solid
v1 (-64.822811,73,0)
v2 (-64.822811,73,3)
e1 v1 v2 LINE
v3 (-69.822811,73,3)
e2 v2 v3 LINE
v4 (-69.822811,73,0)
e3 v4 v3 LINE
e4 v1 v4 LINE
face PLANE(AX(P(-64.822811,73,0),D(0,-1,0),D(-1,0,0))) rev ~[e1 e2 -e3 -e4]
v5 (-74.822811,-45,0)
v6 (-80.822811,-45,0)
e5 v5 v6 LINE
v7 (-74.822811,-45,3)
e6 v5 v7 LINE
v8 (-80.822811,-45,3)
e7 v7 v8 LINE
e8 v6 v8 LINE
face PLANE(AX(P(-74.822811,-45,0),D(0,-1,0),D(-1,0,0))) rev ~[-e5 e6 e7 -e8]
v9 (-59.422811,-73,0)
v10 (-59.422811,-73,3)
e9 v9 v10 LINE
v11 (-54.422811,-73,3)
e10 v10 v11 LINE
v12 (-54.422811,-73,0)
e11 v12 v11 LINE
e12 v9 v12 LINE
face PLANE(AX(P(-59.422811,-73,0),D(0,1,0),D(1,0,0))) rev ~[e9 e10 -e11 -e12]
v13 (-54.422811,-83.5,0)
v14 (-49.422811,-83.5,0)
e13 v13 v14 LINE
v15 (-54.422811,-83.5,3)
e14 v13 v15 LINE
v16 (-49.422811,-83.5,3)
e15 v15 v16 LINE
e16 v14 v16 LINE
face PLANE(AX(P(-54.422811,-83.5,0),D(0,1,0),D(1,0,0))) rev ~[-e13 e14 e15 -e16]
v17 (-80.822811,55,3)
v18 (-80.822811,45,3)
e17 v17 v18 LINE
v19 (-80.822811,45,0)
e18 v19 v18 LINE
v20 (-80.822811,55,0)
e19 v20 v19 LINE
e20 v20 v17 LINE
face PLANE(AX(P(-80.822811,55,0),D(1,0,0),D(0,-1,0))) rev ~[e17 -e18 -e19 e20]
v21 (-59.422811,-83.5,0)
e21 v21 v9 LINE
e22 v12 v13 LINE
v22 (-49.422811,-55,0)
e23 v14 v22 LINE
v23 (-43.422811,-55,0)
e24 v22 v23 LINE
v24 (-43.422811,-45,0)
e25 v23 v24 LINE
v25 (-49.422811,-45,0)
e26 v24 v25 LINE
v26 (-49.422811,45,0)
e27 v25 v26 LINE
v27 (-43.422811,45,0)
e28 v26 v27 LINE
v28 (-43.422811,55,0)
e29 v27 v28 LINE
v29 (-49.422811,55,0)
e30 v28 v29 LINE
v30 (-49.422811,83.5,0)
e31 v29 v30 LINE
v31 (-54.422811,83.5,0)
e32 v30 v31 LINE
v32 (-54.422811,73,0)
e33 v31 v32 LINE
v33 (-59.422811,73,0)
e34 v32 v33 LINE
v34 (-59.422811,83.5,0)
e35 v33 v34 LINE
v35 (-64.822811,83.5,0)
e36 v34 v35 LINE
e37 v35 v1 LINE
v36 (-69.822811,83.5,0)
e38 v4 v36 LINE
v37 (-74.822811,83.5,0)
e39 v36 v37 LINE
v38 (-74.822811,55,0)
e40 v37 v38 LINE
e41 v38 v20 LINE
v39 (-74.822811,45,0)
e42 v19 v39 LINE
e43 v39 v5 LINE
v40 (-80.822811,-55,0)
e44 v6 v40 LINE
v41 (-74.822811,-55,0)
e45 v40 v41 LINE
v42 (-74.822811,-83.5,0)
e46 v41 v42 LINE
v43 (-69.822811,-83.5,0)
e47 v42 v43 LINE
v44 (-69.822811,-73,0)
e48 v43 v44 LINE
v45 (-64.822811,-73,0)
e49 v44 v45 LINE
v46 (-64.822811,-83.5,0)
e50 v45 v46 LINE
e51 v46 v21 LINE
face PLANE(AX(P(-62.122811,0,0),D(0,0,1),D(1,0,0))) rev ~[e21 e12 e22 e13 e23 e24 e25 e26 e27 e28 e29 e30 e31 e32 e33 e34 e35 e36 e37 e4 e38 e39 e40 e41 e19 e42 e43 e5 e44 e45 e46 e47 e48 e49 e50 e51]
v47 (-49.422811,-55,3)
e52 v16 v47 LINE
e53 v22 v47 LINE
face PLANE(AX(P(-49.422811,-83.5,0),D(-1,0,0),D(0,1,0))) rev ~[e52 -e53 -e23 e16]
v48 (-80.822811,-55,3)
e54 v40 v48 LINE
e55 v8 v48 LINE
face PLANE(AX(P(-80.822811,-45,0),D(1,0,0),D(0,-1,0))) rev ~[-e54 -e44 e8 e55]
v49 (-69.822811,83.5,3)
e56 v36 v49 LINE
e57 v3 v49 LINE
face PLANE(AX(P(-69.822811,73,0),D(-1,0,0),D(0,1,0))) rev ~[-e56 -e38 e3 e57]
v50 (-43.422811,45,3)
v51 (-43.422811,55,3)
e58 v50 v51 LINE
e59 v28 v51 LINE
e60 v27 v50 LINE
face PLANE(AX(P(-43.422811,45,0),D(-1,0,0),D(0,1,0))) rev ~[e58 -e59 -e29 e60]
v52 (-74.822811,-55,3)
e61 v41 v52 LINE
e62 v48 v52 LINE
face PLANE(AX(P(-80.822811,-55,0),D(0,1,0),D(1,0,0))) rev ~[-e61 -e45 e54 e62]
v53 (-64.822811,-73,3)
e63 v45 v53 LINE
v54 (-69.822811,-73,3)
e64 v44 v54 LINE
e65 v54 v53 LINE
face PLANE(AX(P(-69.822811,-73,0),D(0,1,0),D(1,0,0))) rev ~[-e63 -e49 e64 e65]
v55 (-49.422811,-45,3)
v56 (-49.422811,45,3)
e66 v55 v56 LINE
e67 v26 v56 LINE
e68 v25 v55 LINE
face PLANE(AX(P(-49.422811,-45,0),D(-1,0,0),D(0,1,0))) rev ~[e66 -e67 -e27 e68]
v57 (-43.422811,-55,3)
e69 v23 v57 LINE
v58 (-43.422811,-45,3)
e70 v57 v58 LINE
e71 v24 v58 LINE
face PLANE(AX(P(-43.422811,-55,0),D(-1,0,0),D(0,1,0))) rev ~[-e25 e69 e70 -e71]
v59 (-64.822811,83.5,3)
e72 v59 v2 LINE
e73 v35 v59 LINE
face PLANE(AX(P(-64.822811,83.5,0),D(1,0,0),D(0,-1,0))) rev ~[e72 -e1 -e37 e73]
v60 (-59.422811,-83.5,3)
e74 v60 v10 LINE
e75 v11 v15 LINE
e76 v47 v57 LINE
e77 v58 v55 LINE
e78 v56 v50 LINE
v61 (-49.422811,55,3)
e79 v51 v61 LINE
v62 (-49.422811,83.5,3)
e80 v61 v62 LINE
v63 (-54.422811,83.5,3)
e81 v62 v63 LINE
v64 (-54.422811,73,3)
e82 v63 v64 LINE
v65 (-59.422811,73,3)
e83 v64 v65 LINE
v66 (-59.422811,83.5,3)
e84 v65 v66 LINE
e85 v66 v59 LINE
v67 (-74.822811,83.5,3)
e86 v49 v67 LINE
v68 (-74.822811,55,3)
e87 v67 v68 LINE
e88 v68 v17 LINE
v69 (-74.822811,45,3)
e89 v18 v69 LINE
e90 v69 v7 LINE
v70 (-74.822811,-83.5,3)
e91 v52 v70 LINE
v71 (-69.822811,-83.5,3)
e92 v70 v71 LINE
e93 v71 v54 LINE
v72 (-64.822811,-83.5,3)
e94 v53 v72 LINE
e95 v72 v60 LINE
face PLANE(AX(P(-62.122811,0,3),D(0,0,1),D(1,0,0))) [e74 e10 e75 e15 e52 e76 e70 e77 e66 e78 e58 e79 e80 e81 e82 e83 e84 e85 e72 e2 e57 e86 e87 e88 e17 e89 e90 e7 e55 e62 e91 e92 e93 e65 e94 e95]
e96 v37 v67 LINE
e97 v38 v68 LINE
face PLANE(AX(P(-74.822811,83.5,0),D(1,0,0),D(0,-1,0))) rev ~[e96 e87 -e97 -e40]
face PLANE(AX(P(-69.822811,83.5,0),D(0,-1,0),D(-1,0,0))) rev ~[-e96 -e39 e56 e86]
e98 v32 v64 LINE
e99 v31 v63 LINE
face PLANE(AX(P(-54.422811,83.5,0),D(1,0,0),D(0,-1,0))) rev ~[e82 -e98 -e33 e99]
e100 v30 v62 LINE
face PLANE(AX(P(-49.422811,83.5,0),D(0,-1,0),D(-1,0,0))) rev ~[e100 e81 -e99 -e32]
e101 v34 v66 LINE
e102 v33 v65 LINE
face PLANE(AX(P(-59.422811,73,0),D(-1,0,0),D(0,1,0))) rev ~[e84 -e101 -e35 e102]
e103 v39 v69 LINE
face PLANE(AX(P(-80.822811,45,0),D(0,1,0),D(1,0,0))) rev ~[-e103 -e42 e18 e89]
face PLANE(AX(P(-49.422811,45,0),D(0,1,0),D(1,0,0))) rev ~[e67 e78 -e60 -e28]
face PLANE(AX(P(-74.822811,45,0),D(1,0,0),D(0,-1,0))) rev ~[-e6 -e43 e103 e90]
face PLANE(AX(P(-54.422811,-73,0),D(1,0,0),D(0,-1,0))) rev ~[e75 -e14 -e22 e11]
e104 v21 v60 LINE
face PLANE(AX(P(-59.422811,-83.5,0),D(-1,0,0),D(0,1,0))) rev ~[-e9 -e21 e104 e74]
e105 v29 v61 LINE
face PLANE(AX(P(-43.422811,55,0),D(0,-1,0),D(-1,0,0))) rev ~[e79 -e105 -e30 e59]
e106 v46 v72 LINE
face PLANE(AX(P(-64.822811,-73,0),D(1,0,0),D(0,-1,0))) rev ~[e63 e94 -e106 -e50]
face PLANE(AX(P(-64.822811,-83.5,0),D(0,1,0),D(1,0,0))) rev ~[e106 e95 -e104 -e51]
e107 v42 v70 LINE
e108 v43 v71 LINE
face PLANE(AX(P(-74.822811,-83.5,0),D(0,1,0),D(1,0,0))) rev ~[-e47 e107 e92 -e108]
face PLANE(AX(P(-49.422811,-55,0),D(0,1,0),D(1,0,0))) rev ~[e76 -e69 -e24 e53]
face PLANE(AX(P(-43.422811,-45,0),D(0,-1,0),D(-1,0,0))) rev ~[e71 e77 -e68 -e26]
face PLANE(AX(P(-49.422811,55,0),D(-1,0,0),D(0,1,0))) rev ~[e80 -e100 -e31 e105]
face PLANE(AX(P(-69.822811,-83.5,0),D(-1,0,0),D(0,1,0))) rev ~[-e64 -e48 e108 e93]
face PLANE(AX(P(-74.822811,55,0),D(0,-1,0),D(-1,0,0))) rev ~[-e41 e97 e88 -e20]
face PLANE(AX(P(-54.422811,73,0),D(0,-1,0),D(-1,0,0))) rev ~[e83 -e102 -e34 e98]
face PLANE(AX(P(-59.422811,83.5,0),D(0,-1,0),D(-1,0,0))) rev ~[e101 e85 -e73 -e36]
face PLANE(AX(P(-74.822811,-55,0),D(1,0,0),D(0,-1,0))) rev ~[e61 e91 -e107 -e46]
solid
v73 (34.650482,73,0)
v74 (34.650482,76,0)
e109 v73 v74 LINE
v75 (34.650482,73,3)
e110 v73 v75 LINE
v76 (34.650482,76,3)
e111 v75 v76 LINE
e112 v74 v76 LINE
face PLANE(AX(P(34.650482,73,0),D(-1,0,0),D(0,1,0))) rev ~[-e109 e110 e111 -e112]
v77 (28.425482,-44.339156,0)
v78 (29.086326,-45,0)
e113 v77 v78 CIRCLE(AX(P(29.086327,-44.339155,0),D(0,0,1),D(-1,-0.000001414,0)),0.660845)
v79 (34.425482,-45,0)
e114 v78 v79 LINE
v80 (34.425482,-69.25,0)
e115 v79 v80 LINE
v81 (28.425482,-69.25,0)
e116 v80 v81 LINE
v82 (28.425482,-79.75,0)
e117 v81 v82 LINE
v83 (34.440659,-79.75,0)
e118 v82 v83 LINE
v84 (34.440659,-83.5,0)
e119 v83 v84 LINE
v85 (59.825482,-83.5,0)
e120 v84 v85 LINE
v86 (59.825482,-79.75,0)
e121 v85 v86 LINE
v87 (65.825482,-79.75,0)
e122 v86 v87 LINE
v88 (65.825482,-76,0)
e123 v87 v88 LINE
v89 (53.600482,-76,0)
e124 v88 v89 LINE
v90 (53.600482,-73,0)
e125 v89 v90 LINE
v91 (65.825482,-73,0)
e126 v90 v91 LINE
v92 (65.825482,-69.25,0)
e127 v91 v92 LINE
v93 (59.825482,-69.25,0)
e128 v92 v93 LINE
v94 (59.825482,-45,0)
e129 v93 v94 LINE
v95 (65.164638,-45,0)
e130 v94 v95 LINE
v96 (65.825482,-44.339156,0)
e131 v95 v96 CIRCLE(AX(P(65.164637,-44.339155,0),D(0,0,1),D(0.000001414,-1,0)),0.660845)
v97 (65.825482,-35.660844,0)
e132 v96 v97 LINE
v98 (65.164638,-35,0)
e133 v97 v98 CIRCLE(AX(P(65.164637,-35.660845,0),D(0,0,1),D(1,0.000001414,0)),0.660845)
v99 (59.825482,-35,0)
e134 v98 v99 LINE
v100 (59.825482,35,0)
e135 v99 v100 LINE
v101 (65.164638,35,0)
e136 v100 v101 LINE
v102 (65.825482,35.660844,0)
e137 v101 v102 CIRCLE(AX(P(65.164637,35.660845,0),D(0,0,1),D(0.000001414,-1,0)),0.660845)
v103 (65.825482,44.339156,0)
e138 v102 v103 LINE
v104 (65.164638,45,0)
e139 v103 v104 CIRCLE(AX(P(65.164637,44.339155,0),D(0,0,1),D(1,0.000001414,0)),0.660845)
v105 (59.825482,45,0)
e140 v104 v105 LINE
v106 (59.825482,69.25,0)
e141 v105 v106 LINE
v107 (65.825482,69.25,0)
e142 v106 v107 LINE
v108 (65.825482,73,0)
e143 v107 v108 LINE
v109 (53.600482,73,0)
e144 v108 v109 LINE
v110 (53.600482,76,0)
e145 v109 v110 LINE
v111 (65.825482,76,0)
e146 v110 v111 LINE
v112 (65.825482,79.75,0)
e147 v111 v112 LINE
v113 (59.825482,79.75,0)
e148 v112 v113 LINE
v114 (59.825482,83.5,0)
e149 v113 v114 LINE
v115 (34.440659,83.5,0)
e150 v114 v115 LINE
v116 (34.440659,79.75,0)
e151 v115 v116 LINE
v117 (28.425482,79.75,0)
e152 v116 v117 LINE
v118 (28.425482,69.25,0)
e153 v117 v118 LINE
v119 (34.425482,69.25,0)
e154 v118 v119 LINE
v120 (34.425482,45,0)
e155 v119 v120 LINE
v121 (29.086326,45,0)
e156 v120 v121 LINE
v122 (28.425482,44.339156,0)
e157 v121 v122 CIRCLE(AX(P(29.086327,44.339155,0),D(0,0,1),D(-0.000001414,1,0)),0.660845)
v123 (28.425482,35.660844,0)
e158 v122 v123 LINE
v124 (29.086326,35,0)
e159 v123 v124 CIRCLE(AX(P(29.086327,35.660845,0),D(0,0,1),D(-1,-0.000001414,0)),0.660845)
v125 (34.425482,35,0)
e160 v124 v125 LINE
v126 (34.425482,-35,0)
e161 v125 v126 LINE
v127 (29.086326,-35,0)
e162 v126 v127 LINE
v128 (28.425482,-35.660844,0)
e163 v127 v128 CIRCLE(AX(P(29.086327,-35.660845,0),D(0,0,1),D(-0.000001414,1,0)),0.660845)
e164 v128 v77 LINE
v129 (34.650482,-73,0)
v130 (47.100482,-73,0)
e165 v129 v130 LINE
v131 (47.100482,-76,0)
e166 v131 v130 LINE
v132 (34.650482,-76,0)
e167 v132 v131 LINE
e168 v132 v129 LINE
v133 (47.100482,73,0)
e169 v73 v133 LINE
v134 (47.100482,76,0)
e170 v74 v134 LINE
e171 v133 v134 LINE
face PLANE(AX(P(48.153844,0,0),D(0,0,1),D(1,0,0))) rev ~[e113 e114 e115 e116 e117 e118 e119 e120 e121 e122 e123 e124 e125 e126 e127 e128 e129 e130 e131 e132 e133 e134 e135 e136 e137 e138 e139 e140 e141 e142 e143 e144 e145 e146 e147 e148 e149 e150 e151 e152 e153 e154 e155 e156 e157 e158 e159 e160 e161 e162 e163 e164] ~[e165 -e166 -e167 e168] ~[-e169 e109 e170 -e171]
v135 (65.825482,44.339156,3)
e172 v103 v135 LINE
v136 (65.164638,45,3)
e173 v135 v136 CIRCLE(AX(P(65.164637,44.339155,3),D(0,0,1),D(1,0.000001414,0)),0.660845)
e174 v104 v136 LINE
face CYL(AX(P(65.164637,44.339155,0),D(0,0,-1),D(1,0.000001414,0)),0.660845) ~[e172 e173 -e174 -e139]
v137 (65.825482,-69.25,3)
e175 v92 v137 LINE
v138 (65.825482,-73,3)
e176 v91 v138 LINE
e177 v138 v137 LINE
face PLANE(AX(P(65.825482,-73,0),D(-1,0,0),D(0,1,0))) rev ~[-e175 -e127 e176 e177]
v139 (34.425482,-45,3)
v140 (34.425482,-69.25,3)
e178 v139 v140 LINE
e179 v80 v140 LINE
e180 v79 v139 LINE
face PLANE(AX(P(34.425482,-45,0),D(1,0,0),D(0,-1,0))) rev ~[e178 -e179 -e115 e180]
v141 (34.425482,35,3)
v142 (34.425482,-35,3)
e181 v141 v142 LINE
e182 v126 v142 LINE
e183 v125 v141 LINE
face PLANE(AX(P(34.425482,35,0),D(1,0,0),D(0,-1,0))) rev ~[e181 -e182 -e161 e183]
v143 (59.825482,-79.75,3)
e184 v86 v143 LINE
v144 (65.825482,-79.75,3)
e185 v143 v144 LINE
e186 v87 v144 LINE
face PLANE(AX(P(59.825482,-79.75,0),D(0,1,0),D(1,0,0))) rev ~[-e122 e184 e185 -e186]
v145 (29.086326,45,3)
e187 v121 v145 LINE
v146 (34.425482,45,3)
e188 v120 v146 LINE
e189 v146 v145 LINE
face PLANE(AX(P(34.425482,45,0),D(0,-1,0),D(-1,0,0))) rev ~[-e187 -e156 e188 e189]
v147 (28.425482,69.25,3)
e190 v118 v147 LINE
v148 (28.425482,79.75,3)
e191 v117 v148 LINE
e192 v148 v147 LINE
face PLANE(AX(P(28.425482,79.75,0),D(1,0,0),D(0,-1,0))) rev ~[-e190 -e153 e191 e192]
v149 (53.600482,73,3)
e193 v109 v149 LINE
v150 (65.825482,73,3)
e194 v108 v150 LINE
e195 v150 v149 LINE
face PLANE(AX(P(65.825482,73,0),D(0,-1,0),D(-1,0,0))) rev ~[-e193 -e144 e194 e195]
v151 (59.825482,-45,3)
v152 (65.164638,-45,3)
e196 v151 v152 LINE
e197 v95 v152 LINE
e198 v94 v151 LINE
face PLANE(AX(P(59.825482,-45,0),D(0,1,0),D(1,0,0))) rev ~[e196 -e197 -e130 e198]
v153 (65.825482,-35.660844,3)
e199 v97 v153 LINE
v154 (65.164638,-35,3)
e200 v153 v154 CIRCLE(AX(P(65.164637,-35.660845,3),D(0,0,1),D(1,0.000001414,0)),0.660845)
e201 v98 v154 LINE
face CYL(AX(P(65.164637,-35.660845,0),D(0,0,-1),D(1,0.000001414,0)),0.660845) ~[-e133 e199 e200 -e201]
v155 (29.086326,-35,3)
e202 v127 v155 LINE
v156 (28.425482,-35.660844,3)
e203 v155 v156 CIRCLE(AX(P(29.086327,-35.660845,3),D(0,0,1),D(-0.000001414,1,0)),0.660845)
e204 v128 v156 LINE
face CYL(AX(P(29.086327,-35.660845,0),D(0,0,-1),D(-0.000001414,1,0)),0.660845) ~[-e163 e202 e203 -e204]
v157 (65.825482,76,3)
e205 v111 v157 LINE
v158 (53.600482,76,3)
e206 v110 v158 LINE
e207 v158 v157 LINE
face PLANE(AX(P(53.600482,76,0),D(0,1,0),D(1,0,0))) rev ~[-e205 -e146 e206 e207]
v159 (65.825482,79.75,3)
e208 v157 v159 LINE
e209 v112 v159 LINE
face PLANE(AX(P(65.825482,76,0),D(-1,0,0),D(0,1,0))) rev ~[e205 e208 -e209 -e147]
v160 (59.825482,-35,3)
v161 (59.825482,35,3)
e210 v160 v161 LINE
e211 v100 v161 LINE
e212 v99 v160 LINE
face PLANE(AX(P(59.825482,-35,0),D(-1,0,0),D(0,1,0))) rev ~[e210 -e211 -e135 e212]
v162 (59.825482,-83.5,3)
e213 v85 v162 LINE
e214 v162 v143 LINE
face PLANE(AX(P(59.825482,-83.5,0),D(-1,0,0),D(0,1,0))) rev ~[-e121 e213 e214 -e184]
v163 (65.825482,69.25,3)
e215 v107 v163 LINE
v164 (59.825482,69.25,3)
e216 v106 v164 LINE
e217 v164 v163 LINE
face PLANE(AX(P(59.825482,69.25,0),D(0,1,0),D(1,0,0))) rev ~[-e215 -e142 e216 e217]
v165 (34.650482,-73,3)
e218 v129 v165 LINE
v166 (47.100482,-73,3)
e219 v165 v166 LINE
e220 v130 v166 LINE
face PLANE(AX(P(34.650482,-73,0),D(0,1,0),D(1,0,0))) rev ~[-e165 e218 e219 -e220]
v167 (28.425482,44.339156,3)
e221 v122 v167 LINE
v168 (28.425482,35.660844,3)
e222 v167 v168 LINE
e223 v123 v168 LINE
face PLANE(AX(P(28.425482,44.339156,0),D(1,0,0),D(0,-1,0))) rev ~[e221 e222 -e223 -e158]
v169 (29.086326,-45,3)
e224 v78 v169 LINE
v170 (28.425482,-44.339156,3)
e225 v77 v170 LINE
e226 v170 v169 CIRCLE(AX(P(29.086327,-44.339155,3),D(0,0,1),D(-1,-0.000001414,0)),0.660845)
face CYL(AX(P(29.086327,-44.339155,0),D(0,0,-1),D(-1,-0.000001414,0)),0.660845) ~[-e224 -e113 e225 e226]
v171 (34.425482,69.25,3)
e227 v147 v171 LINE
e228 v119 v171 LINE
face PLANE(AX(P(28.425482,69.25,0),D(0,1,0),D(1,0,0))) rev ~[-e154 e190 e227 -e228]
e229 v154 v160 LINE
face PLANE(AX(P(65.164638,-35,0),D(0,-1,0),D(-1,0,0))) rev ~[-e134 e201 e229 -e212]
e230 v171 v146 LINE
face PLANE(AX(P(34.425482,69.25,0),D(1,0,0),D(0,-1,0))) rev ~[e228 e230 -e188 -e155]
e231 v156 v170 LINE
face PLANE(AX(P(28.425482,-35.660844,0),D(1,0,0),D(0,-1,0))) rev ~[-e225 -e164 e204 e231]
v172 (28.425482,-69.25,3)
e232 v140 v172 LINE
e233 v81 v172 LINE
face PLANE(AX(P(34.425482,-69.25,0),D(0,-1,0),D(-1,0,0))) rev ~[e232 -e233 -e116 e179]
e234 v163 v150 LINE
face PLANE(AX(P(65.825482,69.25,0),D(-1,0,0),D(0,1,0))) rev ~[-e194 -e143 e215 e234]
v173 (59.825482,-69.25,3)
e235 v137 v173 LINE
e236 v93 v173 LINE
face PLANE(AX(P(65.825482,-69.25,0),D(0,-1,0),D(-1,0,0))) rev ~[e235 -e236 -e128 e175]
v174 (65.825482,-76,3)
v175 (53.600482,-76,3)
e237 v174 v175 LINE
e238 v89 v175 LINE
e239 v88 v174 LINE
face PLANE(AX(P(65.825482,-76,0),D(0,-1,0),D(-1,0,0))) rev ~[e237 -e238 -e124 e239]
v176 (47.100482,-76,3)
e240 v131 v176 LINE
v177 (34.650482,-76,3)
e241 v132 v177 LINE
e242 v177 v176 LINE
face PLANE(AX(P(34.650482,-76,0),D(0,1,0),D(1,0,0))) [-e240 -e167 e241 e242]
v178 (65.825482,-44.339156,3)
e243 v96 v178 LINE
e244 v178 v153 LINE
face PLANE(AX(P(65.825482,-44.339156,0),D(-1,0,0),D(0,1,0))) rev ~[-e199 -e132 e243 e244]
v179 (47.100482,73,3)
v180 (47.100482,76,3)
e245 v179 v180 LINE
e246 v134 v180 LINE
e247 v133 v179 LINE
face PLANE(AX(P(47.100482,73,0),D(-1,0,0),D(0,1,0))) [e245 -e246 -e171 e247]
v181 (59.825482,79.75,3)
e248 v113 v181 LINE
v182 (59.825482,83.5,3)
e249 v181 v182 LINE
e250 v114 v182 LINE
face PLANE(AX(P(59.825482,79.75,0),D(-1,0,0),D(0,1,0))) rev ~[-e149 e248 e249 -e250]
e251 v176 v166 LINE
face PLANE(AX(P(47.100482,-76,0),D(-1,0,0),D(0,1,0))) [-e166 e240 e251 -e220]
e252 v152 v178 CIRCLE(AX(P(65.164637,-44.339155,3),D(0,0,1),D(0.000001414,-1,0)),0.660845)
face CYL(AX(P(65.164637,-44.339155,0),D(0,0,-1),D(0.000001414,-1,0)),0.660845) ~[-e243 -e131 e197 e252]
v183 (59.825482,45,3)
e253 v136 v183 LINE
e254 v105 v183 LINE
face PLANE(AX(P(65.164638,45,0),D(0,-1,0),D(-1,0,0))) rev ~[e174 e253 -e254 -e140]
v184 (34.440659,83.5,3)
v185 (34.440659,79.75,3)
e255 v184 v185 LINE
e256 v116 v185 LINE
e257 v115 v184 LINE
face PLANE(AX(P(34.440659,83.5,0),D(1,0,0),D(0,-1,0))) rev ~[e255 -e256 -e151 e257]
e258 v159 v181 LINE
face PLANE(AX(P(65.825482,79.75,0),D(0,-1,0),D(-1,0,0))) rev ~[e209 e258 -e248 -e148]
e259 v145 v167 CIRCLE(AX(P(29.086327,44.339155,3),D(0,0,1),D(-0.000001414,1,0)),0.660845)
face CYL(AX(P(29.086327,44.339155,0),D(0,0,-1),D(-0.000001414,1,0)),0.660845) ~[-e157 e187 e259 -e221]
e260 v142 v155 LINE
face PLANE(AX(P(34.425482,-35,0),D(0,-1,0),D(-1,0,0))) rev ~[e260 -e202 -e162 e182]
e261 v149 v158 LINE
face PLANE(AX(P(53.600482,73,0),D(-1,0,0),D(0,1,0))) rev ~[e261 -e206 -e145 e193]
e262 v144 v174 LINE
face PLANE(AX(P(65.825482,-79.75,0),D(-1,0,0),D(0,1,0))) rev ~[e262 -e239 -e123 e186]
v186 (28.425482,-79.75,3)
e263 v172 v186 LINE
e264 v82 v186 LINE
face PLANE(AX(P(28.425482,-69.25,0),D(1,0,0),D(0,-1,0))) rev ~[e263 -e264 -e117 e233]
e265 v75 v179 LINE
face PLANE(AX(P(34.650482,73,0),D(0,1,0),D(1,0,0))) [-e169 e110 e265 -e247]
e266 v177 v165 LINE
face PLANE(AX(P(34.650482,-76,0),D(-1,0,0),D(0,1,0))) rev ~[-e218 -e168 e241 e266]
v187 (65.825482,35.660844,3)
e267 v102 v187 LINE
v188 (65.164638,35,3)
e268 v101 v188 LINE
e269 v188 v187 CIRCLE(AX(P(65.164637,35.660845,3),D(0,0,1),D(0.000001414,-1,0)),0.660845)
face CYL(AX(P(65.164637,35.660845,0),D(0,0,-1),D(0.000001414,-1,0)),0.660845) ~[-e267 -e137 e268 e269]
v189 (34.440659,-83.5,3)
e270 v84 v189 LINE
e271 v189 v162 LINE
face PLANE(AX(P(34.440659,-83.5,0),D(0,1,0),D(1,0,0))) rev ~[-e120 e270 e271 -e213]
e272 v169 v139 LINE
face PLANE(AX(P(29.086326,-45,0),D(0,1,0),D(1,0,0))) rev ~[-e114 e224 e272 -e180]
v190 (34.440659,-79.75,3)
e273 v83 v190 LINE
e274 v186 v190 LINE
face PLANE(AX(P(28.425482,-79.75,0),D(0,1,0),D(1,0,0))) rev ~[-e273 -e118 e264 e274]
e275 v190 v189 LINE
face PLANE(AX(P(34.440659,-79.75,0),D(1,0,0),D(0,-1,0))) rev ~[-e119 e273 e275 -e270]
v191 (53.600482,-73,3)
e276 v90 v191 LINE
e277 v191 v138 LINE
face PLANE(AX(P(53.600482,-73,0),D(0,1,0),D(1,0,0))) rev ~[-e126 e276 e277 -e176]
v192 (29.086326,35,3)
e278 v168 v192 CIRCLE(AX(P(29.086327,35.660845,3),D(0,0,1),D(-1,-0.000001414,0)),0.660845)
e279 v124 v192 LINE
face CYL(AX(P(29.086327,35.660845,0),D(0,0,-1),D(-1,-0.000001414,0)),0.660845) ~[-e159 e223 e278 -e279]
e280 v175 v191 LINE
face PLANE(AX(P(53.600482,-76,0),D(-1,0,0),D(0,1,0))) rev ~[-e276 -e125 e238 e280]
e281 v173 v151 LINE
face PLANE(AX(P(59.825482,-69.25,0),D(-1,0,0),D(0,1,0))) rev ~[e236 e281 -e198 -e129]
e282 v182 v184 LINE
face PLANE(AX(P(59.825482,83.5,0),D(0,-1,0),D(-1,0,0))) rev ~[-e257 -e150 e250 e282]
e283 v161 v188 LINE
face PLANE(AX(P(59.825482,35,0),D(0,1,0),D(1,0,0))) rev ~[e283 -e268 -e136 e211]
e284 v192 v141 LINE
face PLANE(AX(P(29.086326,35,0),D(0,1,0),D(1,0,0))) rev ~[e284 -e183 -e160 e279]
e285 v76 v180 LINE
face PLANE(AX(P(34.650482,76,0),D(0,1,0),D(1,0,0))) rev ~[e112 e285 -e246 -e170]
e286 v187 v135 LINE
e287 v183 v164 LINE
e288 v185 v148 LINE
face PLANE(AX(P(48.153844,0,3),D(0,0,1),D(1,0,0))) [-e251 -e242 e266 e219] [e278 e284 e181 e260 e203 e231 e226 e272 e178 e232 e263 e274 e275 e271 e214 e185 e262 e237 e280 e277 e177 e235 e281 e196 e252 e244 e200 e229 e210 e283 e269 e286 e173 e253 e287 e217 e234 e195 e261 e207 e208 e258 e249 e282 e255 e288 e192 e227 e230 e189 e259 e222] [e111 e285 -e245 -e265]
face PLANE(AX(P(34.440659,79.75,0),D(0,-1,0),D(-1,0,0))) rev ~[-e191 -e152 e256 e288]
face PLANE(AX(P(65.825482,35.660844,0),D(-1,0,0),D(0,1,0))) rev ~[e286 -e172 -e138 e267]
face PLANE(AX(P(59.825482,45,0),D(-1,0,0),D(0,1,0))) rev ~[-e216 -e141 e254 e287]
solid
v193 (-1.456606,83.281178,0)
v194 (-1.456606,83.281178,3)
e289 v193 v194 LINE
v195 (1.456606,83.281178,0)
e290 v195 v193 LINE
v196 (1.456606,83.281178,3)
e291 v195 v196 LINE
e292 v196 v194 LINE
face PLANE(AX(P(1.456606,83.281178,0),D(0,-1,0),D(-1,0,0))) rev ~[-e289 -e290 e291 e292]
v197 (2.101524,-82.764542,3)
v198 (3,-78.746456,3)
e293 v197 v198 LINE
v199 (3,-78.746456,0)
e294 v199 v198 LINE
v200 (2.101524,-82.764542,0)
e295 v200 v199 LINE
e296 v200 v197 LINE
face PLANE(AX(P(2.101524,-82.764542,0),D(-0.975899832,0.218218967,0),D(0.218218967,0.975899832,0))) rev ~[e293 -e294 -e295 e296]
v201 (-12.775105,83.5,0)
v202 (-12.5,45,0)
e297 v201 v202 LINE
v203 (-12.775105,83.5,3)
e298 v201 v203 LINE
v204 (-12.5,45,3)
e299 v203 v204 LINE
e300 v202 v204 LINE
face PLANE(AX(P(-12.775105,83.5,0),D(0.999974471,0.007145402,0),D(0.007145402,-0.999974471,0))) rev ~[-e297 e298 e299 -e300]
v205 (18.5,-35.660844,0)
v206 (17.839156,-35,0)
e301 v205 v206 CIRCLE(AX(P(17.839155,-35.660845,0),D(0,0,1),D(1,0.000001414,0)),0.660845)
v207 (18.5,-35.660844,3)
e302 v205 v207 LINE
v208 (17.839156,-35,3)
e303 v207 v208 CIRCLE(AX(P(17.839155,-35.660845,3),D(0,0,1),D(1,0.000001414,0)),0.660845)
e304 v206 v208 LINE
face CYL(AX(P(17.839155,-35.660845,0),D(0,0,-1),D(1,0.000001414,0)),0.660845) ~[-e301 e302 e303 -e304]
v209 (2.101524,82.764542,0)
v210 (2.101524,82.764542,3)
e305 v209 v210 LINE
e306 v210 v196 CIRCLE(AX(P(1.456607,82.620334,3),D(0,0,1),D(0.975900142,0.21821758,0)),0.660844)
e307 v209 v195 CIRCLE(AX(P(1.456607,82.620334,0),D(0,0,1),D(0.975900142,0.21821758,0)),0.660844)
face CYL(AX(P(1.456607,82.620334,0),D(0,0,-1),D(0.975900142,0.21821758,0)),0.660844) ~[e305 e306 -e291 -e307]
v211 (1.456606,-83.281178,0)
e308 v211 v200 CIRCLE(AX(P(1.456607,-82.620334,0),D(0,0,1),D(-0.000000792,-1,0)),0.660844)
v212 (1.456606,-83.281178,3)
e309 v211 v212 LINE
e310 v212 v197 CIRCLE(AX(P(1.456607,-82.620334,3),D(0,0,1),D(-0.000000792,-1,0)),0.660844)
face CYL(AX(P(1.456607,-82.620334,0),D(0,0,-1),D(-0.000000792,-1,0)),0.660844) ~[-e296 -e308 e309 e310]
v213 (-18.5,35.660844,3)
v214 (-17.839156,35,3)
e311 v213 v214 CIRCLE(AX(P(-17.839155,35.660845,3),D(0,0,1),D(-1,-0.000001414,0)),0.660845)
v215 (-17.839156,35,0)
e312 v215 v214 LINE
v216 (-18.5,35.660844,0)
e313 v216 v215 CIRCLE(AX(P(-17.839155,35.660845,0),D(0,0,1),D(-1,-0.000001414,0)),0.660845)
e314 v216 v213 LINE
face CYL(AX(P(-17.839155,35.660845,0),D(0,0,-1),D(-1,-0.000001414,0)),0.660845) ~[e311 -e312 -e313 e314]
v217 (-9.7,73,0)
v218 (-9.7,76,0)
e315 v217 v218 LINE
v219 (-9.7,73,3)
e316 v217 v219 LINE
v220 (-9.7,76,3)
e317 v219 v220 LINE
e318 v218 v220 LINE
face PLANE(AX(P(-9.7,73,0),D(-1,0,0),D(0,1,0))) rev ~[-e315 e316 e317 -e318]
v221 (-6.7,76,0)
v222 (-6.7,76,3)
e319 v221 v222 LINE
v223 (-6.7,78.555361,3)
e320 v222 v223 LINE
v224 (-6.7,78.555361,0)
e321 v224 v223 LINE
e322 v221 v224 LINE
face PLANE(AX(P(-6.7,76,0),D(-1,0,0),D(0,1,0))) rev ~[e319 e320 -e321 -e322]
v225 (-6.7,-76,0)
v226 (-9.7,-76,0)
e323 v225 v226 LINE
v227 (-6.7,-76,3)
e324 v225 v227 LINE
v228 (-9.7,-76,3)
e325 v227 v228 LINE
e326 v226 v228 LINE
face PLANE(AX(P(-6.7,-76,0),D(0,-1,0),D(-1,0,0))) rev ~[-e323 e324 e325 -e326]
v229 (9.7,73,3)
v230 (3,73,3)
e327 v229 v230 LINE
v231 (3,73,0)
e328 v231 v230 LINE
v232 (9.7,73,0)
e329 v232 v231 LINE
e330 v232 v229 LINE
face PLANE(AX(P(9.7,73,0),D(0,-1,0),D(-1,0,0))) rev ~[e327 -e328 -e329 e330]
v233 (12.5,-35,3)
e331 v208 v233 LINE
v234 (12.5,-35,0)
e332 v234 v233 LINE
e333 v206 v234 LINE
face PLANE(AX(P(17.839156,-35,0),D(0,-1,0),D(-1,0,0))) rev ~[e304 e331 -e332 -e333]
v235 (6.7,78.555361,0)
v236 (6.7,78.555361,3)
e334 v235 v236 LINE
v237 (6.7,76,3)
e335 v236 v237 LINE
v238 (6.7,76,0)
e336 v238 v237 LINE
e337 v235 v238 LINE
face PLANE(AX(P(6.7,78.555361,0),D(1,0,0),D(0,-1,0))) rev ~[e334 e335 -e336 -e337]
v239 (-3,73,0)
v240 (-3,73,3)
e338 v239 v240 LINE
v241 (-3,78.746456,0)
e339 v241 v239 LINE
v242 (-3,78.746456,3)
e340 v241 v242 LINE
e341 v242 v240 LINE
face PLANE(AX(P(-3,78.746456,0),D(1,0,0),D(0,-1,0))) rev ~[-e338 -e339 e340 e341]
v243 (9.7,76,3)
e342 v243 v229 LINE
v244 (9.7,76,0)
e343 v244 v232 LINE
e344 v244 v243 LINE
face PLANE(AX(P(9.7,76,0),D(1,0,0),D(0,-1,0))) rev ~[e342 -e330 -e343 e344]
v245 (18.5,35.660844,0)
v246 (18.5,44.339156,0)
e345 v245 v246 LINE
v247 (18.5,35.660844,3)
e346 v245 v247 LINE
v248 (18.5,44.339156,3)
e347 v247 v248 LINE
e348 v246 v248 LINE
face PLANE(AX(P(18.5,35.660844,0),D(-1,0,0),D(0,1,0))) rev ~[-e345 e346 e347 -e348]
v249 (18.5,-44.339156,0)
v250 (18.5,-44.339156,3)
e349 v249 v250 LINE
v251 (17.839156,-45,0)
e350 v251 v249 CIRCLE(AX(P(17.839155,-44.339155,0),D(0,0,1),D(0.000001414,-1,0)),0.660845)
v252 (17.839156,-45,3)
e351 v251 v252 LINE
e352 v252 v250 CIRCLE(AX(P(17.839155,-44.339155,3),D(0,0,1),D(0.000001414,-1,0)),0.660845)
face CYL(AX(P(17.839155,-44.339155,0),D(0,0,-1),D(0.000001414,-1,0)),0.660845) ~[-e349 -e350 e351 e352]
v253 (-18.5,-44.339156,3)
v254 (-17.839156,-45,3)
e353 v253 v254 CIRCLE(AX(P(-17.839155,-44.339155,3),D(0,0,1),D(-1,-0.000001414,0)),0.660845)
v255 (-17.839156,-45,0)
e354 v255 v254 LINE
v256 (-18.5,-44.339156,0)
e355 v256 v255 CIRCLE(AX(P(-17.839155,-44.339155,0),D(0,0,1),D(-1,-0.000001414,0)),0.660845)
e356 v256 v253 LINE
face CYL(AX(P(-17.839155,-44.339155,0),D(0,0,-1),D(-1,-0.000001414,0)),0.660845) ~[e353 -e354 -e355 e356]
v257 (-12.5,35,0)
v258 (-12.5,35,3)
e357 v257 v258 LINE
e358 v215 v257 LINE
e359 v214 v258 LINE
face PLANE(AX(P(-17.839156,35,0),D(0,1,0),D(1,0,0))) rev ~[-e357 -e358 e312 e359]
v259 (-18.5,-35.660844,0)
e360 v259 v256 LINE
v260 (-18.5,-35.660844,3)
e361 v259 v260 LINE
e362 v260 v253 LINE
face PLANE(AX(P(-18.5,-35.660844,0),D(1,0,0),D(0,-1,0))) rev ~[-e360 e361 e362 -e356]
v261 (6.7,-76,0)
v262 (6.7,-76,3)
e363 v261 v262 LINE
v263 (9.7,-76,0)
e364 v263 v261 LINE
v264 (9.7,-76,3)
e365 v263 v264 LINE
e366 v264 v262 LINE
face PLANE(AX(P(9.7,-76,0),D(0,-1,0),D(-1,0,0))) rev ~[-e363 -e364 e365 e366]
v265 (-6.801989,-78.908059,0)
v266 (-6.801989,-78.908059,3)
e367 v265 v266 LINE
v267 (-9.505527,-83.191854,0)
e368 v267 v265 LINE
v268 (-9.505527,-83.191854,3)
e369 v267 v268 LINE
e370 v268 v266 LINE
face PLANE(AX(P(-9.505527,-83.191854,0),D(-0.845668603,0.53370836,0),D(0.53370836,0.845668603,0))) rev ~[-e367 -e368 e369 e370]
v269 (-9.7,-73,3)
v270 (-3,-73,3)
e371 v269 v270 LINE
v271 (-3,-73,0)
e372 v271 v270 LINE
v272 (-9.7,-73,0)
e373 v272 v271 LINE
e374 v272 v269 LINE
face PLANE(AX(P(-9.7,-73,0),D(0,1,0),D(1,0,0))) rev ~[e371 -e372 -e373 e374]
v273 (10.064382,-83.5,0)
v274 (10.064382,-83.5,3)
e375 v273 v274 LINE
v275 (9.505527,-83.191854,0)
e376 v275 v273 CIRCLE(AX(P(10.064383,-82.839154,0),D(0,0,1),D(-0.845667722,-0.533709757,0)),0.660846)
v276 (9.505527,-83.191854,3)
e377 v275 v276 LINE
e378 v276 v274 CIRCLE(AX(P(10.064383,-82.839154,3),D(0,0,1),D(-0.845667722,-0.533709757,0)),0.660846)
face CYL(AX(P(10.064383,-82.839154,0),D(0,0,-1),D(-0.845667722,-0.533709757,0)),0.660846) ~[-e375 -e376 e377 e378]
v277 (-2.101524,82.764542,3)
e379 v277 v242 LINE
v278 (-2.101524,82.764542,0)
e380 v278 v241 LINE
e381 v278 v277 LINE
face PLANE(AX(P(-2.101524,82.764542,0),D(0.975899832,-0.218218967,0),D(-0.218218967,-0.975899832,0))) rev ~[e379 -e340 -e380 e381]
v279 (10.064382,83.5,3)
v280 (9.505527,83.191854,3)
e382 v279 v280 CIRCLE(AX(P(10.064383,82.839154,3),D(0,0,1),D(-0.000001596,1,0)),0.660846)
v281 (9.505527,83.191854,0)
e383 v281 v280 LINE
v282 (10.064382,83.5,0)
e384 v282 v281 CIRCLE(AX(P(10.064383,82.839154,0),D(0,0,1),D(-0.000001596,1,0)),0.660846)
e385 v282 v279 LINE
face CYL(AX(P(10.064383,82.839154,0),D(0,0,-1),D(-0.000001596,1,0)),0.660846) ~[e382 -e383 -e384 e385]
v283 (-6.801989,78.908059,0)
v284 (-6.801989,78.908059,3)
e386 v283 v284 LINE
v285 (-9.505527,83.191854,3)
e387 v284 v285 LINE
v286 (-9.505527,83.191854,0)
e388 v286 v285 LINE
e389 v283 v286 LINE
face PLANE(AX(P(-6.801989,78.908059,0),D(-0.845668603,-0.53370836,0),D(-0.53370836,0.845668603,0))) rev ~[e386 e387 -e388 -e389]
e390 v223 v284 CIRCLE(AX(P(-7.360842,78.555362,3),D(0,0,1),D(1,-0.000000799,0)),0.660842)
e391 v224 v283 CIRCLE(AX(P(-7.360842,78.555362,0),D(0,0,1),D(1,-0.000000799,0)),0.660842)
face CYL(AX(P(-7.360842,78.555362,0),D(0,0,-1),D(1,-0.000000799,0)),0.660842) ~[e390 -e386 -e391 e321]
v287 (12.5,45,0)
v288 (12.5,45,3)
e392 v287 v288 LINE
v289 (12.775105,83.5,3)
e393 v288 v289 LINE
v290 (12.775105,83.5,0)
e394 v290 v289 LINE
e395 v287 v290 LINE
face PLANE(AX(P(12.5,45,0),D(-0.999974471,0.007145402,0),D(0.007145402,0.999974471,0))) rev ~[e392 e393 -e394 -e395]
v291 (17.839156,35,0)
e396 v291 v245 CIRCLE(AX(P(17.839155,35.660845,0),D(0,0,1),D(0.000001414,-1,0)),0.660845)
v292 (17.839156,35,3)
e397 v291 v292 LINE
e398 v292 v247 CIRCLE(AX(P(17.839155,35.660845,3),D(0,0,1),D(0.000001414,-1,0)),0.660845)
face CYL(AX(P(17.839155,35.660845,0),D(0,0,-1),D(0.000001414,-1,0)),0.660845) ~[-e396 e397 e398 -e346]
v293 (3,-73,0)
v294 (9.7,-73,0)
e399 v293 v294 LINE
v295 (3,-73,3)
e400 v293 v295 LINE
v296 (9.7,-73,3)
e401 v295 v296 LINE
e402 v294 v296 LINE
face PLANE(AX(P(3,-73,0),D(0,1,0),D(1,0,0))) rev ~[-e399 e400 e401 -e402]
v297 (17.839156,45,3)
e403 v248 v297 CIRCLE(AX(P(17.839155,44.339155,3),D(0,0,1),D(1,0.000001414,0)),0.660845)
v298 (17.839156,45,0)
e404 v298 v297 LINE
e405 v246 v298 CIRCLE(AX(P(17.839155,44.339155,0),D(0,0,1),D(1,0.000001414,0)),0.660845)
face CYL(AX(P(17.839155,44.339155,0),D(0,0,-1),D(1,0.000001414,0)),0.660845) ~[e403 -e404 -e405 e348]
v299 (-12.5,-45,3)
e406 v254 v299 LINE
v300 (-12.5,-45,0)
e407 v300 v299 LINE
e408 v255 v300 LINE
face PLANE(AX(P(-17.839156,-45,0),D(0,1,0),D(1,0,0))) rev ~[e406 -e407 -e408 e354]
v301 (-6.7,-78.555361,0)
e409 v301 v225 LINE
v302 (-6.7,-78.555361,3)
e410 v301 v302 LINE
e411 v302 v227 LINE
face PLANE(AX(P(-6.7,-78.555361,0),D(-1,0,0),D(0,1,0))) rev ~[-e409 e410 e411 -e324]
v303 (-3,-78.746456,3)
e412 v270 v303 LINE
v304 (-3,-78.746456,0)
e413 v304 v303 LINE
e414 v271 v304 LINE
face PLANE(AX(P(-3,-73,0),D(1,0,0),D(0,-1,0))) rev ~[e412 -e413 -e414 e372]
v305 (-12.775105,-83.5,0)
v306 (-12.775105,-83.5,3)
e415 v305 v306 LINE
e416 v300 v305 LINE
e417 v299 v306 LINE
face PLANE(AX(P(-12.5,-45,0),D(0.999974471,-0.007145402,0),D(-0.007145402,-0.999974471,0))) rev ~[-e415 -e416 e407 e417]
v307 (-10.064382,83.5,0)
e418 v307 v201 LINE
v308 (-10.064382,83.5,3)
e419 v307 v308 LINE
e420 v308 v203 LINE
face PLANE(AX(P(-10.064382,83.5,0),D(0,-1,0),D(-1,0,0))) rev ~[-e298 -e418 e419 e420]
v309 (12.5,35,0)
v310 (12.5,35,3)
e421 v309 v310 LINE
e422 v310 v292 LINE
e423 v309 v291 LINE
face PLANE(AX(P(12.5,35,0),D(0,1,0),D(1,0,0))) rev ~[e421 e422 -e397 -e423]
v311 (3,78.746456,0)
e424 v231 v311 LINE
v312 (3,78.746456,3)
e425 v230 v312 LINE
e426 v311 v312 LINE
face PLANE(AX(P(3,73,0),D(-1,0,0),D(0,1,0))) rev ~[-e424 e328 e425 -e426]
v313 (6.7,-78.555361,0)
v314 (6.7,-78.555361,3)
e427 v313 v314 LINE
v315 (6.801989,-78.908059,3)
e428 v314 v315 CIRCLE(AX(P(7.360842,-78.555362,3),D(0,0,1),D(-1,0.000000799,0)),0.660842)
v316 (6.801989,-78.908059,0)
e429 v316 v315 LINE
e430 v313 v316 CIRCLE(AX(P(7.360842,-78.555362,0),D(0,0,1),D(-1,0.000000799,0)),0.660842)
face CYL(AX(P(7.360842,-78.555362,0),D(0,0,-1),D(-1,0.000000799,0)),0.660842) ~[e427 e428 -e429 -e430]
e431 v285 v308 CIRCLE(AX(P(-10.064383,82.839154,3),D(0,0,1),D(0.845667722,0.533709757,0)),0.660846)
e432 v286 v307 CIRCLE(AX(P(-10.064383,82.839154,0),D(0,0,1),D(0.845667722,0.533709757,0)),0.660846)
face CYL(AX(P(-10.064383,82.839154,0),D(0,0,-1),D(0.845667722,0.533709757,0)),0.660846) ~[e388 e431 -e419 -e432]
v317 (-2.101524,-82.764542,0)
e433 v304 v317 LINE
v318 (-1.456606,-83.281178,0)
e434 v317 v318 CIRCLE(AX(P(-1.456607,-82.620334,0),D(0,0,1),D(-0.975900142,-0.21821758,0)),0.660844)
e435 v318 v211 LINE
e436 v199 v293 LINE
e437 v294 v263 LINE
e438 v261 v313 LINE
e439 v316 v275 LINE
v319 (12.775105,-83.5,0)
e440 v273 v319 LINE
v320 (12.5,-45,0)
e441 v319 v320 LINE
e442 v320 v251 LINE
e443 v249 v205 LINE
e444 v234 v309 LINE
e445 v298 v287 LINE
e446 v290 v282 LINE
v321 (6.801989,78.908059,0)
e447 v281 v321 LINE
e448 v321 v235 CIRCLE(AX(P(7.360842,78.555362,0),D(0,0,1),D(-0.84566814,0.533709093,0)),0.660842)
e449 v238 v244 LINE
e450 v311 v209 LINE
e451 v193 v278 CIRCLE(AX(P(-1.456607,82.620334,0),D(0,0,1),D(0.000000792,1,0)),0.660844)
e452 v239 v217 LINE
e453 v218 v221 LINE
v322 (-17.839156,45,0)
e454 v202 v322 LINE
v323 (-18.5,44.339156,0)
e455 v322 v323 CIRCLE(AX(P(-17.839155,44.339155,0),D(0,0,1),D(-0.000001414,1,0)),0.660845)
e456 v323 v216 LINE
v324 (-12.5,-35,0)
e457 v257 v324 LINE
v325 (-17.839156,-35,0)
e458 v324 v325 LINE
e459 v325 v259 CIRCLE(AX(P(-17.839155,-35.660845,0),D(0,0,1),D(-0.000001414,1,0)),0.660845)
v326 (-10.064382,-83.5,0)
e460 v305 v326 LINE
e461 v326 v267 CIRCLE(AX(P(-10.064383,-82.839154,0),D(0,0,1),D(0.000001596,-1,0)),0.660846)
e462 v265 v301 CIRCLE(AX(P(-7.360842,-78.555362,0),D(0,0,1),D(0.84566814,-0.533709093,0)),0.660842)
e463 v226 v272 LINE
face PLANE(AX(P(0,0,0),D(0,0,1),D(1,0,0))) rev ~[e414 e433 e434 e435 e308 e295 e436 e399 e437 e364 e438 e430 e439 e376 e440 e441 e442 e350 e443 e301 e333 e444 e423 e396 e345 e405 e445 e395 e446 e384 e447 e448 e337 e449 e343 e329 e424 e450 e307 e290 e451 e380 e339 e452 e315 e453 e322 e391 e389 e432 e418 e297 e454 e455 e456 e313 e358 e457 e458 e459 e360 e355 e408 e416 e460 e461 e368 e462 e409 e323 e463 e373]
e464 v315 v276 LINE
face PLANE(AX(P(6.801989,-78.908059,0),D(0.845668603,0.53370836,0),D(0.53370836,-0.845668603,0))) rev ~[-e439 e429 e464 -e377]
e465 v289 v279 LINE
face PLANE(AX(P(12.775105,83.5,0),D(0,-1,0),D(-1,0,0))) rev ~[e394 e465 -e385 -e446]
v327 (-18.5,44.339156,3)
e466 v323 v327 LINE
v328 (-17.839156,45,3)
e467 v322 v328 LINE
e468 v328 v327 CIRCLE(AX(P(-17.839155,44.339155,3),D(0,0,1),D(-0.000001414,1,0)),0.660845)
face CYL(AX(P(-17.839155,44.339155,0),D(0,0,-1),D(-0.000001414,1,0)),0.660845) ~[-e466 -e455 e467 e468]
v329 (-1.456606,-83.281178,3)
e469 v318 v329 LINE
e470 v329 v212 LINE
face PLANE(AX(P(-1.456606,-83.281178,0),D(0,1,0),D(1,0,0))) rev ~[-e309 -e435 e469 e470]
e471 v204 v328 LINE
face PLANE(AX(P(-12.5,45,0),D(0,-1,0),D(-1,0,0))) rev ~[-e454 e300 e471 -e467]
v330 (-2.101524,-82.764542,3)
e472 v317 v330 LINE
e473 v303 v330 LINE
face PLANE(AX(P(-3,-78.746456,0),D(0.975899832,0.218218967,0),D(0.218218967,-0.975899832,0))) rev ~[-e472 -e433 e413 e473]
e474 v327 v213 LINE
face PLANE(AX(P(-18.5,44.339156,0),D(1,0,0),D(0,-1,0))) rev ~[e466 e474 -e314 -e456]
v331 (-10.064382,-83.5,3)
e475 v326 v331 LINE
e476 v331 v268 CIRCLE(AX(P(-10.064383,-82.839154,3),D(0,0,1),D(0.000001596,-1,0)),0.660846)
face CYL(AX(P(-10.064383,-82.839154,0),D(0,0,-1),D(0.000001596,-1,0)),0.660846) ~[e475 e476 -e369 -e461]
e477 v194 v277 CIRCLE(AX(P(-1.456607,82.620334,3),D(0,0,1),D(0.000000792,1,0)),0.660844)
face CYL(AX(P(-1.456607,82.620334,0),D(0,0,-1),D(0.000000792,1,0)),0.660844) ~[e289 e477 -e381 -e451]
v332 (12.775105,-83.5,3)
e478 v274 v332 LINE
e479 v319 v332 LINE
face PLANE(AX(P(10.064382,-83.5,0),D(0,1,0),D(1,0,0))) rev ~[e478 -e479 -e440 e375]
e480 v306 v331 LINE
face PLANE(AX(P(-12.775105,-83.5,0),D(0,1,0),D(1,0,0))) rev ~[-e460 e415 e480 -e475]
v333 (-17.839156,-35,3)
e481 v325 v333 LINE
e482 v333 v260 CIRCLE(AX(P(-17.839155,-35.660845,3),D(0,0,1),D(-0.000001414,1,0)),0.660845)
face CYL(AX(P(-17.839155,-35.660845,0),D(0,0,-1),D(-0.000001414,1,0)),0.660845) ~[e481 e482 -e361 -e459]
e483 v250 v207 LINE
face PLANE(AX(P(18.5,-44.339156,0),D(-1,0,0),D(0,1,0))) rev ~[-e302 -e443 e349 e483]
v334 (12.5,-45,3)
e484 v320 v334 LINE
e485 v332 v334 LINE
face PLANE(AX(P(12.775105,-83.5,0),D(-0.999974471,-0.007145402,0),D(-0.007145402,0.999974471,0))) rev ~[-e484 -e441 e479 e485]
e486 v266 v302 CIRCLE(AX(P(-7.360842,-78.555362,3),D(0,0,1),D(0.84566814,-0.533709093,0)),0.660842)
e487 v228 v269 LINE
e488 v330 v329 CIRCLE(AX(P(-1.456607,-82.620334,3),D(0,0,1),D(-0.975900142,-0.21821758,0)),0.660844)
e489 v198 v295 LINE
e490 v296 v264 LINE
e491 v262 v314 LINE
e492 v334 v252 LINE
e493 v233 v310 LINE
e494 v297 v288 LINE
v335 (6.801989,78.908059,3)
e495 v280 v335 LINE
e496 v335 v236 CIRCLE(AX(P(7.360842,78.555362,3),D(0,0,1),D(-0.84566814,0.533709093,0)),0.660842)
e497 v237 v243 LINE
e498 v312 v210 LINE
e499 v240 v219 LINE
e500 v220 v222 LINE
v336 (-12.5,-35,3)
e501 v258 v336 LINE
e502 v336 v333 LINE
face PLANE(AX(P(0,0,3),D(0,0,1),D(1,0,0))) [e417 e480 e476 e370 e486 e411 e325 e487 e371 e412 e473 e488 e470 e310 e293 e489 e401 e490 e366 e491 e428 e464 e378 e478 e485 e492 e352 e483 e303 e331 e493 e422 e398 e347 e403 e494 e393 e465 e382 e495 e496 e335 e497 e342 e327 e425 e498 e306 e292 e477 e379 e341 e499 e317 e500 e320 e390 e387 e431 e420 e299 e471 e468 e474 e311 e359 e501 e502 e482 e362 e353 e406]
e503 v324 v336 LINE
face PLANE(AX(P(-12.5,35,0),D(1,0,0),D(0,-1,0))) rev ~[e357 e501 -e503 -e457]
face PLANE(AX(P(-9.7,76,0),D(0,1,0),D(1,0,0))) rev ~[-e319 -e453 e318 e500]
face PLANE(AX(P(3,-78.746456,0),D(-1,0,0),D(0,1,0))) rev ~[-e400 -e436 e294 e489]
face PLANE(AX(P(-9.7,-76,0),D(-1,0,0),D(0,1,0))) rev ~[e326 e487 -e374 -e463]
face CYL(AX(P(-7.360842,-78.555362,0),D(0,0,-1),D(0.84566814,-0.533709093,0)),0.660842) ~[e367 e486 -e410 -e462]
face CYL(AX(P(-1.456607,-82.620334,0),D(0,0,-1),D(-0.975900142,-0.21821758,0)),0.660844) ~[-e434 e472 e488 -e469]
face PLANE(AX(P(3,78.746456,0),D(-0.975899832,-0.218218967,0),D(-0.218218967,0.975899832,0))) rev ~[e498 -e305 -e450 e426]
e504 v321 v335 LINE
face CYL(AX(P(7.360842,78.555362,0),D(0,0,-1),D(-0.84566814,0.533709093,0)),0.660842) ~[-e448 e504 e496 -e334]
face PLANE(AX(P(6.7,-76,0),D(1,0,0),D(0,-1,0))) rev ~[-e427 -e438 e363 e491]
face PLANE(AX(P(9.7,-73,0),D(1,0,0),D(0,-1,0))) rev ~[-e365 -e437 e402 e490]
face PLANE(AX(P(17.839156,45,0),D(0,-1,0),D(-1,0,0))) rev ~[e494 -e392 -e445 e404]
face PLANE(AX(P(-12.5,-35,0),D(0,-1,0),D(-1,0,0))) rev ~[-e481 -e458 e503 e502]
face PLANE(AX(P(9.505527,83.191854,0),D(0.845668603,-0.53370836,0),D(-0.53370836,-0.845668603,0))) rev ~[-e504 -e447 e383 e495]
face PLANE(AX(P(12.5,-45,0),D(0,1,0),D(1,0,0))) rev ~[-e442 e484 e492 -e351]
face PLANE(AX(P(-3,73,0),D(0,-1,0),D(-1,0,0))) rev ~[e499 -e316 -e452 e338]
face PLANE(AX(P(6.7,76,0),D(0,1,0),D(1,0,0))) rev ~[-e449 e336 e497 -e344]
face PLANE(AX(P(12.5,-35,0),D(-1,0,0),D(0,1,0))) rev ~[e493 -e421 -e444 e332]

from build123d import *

# Parameters (mm, degrees)
F1_DEPTH = 3
F2_W     = 12.45
F2_H     = 3
F3_DEPTH = 3
F5_DEPTH = 3


with BuildPart() as f1:
    # F0 (on Top) → F1 (new body)
    with BuildSketch(Plane.XY):
        with BuildLine():
            Line((-9.7, 73), (-9.7, 76))
            Line((-9.7, 76), (-6.7, 76))
            Line((-6.7, 76), (-6.7, 78.555361))
            ThreePointArc((-6.7, 78.555361), (-6.726009, 78.738935), (-6.801989, 78.908059))
            Line((-6.801989, 78.908059), (-9.505527, 83.191854))
            ThreePointArc((-9.505527, 83.191854), (-9.745292, 83.417858), (-10.064382, 83.5))
            Line((-10.064382, 83.5), (-12.775105, 83.5))
            Line((-12.775105, 83.5), (-12.5, 45))
            Line((-12.5, 45), (-17.839156, 45))
            ThreePointArc((-17.839156, 45), (-18.306443, 44.806443), (-18.5, 44.339156))
            Line((-18.5, 44.339156), (-18.5, 35.660844))
            ThreePointArc((-18.5, 35.660844), (-18.306443, 35.193557), (-17.839156, 35))
            Line((-17.839156, 35), (-12.5, 35))
            Line((-12.5, 35), (-12.5, 0))
            Line((-12.5, 0), (-12.5, -35))
            Line((-12.5, -35), (-17.839156, -35))
            ThreePointArc((-17.839156, -35), (-18.306443, -35.193557), (-18.5, -35.660844))
            Line((-18.5, -35.660844), (-18.5, -44.339156))
            ThreePointArc((-18.5, -44.339156), (-18.306443, -44.806443), (-17.839156, -45))
            Line((-17.839156, -45), (-12.5, -45))
            Line((-12.5, -45), (-12.775105, -83.5))
            Line((-12.775105, -83.5), (-10.064382, -83.5))
            ThreePointArc((-10.064382, -83.5), (-9.745292, -83.417858), (-9.505527, -83.191854))
            Line((-9.505527, -83.191854), (-6.801989, -78.908059))
            ThreePointArc((-6.801989, -78.908059), (-6.726009, -78.738935), (-6.7, -78.555361))
            Line((-6.7, -78.555361), (-6.7, -76))
            Line((-6.7, -76), (-9.7, -76))
            Line((-9.7, -76), (-9.7, -73))
            Line((-9.7, -73), (-3, -73))
            Line((-3, -73), (-3, -78.746456))
            Line((-3, -78.746456), (-2.101524, -82.764542))
            ThreePointArc((-2.101524, -82.764542), (-1.869774, -83.136093), (-1.456606, -83.281178))
            Line((-1.456606, -83.281178), (0, -83.281178))
            Line((0, -83.281178), (1.456606, -83.281178))
            ThreePointArc((1.456606, -83.281178), (1.869774, -83.136093), (2.101524, -82.764542))
            Line((2.101524, -82.764542), (3, -78.746456))
            Line((3, -78.746456), (3, -73))
            Line((3, -73), (9.7, -73))
            Line((9.7, -73), (9.7, -76))
            Line((9.7, -76), (6.7, -76))
            Line((6.7, -76), (6.7, -78.555361))
            ThreePointArc((6.7, -78.555361), (6.726009, -78.738935), (6.801989, -78.908059))
            Line((6.801989, -78.908059), (9.505527, -83.191854))
            ThreePointArc((9.505527, -83.191854), (9.745292, -83.417858), (10.064382, -83.5))
            Line((10.064382, -83.5), (12.775105, -83.5))
            Line((12.775105, -83.5), (12.5, -45))
            Line((12.5, -45), (17.839156, -45))
            ThreePointArc((17.839156, -45), (18.306443, -44.806443), (18.5, -44.339156))
            Line((18.5, -44.339156), (18.5, -35.660844))
            ThreePointArc((18.5, -35.660844), (18.306443, -35.193557), (17.839156, -35))
            Line((17.839156, -35), (12.5, -35))
            Line((12.5, -35), (12.5, 0))
            Line((12.5, 0), (12.5, 35))
            Line((12.5, 35), (17.839156, 35))
            ThreePointArc((17.839156, 35), (18.306443, 35.193557), (18.5, 35.660844))
            Line((18.5, 35.660844), (18.5, 44.339156))
            ThreePointArc((18.5, 44.339156), (18.306443, 44.806443), (17.839156, 45))
            Line((17.839156, 45), (12.5, 45))
            Line((12.5, 45), (12.775105, 83.5))
            Line((12.775105, 83.5), (10.064382, 83.5))
            ThreePointArc((10.064382, 83.5), (9.745292, 83.417858), (9.505527, 83.191854))
            Line((9.505527, 83.191854), (6.801989, 78.908059))
            ThreePointArc((6.801989, 78.908059), (6.726009, 78.738935), (6.7, 78.555361))
            Line((6.7, 78.555361), (6.7, 76))
            Line((6.7, 76), (9.7, 76))
            Line((9.7, 76), (9.7, 73))
            Line((9.7, 73), (3, 73))
            Line((3, 73), (3, 78.746456))
            Line((3, 78.746456), (2.101524, 82.764542))
            ThreePointArc((2.101524, 82.764542), (1.869774, 83.136093), (1.456606, 83.281178))
            Line((1.456606, 83.281178), (0, 83.281178))
            Line((0, 83.281178), (-1.456606, 83.281178))
            ThreePointArc((-1.456606, 83.281178), (-1.869774, 83.136093), (-2.101524, 82.764542))
            Line((-2.101524, 82.764542), (-3, 78.746456))
            Line((-3, 78.746456), (-3, 73))
            Line((-3, 73), (-9.7, 73))
        make_face()
    extrude(amount=F1_DEPTH)


with BuildPart() as f3:
    # F2 (on Top) → F3 (new body)
    with BuildSketch(Plane.XY):
        with BuildLine():
            Line((34.425482, 45), (29.086326, 45))
            ThreePointArc((29.086326, 45), (28.619039, 44.806443), (28.425482, 44.339156))
            Line((28.425482, 44.339156), (28.425482, 35.660844))
            ThreePointArc((28.425482, 35.660844), (28.619039, 35.193557), (29.086326, 35))
            Line((29.086326, 35), (34.425482, 35))
            Line((34.425482, 35), (34.425482, 0))
            Line((34.425482, 0), (34.425482, -35))
            Line((34.425482, -35), (29.086326, -35))
            ThreePointArc((29.086326, -35), (28.619039, -35.193557), (28.425482, -35.660844))
            Line((28.425482, -35.660844), (28.425482, -44.339156))
            ThreePointArc((28.425482, -44.339156), (28.619039, -44.806443), (29.086326, -45))
            Line((29.086326, -45), (34.425482, -45))
            Line((34.425482, -45), (34.425482, -69.25))
            Line((34.425482, -69.25), (28.425482, -69.25))
            Line((28.425482, -69.25), (28.425482, -79.75))
            Line((28.425482, -79.75), (34.440659, -79.75))
            Line((34.440659, -79.75), (34.440659, -83.5))
            Line((34.440659, -83.5), (59.825482, -83.5))
            Line((59.825482, -83.5), (59.825482, -79.75))
            Line((59.825482, -79.75), (65.825482, -79.75))
            Line((65.825482, -79.75), (65.825482, -76))
            Line((65.825482, -76), (53.600482, -76))
            Line((53.600482, -76), (53.600482, -73))
            Line((53.600482, -73), (65.825482, -73))
            Line((65.825482, -73), (65.825482, -69.25))
            Line((65.825482, -69.25), (59.825482, -69.25))
            Line((59.825482, -69.25), (59.825482, -45))
            Line((59.825482, -45), (65.164638, -45))
            ThreePointArc((65.164638, -45), (65.631925, -44.806443), (65.825482, -44.339156))
            Line((65.825482, -44.339156), (65.825482, -35.660844))
            ThreePointArc((65.825482, -35.660844), (65.631925, -35.193557), (65.164638, -35))
            Line((65.164638, -35), (59.825482, -35))
            Line((59.825482, -35), (59.825482, 0))
            Line((59.825482, 0), (59.825482, 35))
            Line((59.825482, 35), (65.164638, 35))
            ThreePointArc((65.164638, 35), (65.631925, 35.193557), (65.825482, 35.660844))
            Line((65.825482, 35.660844), (65.825482, 44.339156))
            ThreePointArc((65.825482, 44.339156), (65.631925, 44.806443), (65.164638, 45))
            Line((65.164638, 45), (59.825482, 45))
            Line((59.825482, 45), (59.825482, 69.25))
            Line((59.825482, 69.25), (65.825482, 69.25))
            Line((65.825482, 69.25), (65.825482, 73))
            Line((65.825482, 73), (53.600482, 73))
            Line((53.600482, 73), (53.600482, 76))
            Line((53.600482, 76), (65.825482, 76))
            Line((65.825482, 76), (65.825482, 79.75))
            Line((65.825482, 79.75), (59.825482, 79.75))
            Line((59.825482, 79.75), (59.825482, 83.5))
            Line((59.825482, 83.5), (34.440659, 83.5))
            Line((34.440659, 83.5), (34.440659, 79.75))
            Line((34.440659, 79.75), (28.425482, 79.75))
            Line((28.425482, 79.75), (28.425482, 69.25))
            Line((28.425482, 69.25), (34.425482, 69.25))
            Line((34.425482, 69.25), (34.425482, 45))
        make_face()
        with Locations((40.875482, -74.5)):
            Rectangle(F2_W, F2_H, mode=Mode.SUBTRACT)
        with Locations((40.875482, 74.5)):
            Rectangle(F2_W, F2_H, mode=Mode.SUBTRACT)
    extrude(amount=F3_DEPTH)


with BuildPart() as f5:
    # F4 (on Top) → F5 (new body)
    with BuildSketch(Plane.XY):
        Polygon((-74.822811, 45), (-74.822811, 0), (-74.822811, -45), (-80.822811, -45), (-80.822811, -55), (-74.822811, -55), (-74.822811, -83.5), (-69.822811, -83.5), (-69.822811, -73), (-64.822811, -73), (-64.822811, -83.5), (-59.422811, -83.5), (-59.422811, -73), (-54.422811, -73), (-54.422811, -83.5), (-49.422811, -83.5), (-49.422811, -55), (-43.422811, -55), (-43.422811, -45), (-49.422811, -45), (-49.422811, 0), (-49.422811, 45), (-43.422811, 45), (-43.422811, 55), (-49.422811, 55), (-49.422811, 83.5), (-54.422811, 83.5), (-54.422811, 73), (-59.422811, 73), (-59.422811, 83.5), (-64.822811, 83.5), (-64.822811, 73), (-69.822811, 73), (-69.822811, 83.5), (-74.822811, 83.5), (-74.822811, 55), (-80.822811, 55), (-80.822811, 45), align=None)
    extrude(amount=F5_DEPTH)


solid = Compound([f1.part, f3.part, f5.part])
